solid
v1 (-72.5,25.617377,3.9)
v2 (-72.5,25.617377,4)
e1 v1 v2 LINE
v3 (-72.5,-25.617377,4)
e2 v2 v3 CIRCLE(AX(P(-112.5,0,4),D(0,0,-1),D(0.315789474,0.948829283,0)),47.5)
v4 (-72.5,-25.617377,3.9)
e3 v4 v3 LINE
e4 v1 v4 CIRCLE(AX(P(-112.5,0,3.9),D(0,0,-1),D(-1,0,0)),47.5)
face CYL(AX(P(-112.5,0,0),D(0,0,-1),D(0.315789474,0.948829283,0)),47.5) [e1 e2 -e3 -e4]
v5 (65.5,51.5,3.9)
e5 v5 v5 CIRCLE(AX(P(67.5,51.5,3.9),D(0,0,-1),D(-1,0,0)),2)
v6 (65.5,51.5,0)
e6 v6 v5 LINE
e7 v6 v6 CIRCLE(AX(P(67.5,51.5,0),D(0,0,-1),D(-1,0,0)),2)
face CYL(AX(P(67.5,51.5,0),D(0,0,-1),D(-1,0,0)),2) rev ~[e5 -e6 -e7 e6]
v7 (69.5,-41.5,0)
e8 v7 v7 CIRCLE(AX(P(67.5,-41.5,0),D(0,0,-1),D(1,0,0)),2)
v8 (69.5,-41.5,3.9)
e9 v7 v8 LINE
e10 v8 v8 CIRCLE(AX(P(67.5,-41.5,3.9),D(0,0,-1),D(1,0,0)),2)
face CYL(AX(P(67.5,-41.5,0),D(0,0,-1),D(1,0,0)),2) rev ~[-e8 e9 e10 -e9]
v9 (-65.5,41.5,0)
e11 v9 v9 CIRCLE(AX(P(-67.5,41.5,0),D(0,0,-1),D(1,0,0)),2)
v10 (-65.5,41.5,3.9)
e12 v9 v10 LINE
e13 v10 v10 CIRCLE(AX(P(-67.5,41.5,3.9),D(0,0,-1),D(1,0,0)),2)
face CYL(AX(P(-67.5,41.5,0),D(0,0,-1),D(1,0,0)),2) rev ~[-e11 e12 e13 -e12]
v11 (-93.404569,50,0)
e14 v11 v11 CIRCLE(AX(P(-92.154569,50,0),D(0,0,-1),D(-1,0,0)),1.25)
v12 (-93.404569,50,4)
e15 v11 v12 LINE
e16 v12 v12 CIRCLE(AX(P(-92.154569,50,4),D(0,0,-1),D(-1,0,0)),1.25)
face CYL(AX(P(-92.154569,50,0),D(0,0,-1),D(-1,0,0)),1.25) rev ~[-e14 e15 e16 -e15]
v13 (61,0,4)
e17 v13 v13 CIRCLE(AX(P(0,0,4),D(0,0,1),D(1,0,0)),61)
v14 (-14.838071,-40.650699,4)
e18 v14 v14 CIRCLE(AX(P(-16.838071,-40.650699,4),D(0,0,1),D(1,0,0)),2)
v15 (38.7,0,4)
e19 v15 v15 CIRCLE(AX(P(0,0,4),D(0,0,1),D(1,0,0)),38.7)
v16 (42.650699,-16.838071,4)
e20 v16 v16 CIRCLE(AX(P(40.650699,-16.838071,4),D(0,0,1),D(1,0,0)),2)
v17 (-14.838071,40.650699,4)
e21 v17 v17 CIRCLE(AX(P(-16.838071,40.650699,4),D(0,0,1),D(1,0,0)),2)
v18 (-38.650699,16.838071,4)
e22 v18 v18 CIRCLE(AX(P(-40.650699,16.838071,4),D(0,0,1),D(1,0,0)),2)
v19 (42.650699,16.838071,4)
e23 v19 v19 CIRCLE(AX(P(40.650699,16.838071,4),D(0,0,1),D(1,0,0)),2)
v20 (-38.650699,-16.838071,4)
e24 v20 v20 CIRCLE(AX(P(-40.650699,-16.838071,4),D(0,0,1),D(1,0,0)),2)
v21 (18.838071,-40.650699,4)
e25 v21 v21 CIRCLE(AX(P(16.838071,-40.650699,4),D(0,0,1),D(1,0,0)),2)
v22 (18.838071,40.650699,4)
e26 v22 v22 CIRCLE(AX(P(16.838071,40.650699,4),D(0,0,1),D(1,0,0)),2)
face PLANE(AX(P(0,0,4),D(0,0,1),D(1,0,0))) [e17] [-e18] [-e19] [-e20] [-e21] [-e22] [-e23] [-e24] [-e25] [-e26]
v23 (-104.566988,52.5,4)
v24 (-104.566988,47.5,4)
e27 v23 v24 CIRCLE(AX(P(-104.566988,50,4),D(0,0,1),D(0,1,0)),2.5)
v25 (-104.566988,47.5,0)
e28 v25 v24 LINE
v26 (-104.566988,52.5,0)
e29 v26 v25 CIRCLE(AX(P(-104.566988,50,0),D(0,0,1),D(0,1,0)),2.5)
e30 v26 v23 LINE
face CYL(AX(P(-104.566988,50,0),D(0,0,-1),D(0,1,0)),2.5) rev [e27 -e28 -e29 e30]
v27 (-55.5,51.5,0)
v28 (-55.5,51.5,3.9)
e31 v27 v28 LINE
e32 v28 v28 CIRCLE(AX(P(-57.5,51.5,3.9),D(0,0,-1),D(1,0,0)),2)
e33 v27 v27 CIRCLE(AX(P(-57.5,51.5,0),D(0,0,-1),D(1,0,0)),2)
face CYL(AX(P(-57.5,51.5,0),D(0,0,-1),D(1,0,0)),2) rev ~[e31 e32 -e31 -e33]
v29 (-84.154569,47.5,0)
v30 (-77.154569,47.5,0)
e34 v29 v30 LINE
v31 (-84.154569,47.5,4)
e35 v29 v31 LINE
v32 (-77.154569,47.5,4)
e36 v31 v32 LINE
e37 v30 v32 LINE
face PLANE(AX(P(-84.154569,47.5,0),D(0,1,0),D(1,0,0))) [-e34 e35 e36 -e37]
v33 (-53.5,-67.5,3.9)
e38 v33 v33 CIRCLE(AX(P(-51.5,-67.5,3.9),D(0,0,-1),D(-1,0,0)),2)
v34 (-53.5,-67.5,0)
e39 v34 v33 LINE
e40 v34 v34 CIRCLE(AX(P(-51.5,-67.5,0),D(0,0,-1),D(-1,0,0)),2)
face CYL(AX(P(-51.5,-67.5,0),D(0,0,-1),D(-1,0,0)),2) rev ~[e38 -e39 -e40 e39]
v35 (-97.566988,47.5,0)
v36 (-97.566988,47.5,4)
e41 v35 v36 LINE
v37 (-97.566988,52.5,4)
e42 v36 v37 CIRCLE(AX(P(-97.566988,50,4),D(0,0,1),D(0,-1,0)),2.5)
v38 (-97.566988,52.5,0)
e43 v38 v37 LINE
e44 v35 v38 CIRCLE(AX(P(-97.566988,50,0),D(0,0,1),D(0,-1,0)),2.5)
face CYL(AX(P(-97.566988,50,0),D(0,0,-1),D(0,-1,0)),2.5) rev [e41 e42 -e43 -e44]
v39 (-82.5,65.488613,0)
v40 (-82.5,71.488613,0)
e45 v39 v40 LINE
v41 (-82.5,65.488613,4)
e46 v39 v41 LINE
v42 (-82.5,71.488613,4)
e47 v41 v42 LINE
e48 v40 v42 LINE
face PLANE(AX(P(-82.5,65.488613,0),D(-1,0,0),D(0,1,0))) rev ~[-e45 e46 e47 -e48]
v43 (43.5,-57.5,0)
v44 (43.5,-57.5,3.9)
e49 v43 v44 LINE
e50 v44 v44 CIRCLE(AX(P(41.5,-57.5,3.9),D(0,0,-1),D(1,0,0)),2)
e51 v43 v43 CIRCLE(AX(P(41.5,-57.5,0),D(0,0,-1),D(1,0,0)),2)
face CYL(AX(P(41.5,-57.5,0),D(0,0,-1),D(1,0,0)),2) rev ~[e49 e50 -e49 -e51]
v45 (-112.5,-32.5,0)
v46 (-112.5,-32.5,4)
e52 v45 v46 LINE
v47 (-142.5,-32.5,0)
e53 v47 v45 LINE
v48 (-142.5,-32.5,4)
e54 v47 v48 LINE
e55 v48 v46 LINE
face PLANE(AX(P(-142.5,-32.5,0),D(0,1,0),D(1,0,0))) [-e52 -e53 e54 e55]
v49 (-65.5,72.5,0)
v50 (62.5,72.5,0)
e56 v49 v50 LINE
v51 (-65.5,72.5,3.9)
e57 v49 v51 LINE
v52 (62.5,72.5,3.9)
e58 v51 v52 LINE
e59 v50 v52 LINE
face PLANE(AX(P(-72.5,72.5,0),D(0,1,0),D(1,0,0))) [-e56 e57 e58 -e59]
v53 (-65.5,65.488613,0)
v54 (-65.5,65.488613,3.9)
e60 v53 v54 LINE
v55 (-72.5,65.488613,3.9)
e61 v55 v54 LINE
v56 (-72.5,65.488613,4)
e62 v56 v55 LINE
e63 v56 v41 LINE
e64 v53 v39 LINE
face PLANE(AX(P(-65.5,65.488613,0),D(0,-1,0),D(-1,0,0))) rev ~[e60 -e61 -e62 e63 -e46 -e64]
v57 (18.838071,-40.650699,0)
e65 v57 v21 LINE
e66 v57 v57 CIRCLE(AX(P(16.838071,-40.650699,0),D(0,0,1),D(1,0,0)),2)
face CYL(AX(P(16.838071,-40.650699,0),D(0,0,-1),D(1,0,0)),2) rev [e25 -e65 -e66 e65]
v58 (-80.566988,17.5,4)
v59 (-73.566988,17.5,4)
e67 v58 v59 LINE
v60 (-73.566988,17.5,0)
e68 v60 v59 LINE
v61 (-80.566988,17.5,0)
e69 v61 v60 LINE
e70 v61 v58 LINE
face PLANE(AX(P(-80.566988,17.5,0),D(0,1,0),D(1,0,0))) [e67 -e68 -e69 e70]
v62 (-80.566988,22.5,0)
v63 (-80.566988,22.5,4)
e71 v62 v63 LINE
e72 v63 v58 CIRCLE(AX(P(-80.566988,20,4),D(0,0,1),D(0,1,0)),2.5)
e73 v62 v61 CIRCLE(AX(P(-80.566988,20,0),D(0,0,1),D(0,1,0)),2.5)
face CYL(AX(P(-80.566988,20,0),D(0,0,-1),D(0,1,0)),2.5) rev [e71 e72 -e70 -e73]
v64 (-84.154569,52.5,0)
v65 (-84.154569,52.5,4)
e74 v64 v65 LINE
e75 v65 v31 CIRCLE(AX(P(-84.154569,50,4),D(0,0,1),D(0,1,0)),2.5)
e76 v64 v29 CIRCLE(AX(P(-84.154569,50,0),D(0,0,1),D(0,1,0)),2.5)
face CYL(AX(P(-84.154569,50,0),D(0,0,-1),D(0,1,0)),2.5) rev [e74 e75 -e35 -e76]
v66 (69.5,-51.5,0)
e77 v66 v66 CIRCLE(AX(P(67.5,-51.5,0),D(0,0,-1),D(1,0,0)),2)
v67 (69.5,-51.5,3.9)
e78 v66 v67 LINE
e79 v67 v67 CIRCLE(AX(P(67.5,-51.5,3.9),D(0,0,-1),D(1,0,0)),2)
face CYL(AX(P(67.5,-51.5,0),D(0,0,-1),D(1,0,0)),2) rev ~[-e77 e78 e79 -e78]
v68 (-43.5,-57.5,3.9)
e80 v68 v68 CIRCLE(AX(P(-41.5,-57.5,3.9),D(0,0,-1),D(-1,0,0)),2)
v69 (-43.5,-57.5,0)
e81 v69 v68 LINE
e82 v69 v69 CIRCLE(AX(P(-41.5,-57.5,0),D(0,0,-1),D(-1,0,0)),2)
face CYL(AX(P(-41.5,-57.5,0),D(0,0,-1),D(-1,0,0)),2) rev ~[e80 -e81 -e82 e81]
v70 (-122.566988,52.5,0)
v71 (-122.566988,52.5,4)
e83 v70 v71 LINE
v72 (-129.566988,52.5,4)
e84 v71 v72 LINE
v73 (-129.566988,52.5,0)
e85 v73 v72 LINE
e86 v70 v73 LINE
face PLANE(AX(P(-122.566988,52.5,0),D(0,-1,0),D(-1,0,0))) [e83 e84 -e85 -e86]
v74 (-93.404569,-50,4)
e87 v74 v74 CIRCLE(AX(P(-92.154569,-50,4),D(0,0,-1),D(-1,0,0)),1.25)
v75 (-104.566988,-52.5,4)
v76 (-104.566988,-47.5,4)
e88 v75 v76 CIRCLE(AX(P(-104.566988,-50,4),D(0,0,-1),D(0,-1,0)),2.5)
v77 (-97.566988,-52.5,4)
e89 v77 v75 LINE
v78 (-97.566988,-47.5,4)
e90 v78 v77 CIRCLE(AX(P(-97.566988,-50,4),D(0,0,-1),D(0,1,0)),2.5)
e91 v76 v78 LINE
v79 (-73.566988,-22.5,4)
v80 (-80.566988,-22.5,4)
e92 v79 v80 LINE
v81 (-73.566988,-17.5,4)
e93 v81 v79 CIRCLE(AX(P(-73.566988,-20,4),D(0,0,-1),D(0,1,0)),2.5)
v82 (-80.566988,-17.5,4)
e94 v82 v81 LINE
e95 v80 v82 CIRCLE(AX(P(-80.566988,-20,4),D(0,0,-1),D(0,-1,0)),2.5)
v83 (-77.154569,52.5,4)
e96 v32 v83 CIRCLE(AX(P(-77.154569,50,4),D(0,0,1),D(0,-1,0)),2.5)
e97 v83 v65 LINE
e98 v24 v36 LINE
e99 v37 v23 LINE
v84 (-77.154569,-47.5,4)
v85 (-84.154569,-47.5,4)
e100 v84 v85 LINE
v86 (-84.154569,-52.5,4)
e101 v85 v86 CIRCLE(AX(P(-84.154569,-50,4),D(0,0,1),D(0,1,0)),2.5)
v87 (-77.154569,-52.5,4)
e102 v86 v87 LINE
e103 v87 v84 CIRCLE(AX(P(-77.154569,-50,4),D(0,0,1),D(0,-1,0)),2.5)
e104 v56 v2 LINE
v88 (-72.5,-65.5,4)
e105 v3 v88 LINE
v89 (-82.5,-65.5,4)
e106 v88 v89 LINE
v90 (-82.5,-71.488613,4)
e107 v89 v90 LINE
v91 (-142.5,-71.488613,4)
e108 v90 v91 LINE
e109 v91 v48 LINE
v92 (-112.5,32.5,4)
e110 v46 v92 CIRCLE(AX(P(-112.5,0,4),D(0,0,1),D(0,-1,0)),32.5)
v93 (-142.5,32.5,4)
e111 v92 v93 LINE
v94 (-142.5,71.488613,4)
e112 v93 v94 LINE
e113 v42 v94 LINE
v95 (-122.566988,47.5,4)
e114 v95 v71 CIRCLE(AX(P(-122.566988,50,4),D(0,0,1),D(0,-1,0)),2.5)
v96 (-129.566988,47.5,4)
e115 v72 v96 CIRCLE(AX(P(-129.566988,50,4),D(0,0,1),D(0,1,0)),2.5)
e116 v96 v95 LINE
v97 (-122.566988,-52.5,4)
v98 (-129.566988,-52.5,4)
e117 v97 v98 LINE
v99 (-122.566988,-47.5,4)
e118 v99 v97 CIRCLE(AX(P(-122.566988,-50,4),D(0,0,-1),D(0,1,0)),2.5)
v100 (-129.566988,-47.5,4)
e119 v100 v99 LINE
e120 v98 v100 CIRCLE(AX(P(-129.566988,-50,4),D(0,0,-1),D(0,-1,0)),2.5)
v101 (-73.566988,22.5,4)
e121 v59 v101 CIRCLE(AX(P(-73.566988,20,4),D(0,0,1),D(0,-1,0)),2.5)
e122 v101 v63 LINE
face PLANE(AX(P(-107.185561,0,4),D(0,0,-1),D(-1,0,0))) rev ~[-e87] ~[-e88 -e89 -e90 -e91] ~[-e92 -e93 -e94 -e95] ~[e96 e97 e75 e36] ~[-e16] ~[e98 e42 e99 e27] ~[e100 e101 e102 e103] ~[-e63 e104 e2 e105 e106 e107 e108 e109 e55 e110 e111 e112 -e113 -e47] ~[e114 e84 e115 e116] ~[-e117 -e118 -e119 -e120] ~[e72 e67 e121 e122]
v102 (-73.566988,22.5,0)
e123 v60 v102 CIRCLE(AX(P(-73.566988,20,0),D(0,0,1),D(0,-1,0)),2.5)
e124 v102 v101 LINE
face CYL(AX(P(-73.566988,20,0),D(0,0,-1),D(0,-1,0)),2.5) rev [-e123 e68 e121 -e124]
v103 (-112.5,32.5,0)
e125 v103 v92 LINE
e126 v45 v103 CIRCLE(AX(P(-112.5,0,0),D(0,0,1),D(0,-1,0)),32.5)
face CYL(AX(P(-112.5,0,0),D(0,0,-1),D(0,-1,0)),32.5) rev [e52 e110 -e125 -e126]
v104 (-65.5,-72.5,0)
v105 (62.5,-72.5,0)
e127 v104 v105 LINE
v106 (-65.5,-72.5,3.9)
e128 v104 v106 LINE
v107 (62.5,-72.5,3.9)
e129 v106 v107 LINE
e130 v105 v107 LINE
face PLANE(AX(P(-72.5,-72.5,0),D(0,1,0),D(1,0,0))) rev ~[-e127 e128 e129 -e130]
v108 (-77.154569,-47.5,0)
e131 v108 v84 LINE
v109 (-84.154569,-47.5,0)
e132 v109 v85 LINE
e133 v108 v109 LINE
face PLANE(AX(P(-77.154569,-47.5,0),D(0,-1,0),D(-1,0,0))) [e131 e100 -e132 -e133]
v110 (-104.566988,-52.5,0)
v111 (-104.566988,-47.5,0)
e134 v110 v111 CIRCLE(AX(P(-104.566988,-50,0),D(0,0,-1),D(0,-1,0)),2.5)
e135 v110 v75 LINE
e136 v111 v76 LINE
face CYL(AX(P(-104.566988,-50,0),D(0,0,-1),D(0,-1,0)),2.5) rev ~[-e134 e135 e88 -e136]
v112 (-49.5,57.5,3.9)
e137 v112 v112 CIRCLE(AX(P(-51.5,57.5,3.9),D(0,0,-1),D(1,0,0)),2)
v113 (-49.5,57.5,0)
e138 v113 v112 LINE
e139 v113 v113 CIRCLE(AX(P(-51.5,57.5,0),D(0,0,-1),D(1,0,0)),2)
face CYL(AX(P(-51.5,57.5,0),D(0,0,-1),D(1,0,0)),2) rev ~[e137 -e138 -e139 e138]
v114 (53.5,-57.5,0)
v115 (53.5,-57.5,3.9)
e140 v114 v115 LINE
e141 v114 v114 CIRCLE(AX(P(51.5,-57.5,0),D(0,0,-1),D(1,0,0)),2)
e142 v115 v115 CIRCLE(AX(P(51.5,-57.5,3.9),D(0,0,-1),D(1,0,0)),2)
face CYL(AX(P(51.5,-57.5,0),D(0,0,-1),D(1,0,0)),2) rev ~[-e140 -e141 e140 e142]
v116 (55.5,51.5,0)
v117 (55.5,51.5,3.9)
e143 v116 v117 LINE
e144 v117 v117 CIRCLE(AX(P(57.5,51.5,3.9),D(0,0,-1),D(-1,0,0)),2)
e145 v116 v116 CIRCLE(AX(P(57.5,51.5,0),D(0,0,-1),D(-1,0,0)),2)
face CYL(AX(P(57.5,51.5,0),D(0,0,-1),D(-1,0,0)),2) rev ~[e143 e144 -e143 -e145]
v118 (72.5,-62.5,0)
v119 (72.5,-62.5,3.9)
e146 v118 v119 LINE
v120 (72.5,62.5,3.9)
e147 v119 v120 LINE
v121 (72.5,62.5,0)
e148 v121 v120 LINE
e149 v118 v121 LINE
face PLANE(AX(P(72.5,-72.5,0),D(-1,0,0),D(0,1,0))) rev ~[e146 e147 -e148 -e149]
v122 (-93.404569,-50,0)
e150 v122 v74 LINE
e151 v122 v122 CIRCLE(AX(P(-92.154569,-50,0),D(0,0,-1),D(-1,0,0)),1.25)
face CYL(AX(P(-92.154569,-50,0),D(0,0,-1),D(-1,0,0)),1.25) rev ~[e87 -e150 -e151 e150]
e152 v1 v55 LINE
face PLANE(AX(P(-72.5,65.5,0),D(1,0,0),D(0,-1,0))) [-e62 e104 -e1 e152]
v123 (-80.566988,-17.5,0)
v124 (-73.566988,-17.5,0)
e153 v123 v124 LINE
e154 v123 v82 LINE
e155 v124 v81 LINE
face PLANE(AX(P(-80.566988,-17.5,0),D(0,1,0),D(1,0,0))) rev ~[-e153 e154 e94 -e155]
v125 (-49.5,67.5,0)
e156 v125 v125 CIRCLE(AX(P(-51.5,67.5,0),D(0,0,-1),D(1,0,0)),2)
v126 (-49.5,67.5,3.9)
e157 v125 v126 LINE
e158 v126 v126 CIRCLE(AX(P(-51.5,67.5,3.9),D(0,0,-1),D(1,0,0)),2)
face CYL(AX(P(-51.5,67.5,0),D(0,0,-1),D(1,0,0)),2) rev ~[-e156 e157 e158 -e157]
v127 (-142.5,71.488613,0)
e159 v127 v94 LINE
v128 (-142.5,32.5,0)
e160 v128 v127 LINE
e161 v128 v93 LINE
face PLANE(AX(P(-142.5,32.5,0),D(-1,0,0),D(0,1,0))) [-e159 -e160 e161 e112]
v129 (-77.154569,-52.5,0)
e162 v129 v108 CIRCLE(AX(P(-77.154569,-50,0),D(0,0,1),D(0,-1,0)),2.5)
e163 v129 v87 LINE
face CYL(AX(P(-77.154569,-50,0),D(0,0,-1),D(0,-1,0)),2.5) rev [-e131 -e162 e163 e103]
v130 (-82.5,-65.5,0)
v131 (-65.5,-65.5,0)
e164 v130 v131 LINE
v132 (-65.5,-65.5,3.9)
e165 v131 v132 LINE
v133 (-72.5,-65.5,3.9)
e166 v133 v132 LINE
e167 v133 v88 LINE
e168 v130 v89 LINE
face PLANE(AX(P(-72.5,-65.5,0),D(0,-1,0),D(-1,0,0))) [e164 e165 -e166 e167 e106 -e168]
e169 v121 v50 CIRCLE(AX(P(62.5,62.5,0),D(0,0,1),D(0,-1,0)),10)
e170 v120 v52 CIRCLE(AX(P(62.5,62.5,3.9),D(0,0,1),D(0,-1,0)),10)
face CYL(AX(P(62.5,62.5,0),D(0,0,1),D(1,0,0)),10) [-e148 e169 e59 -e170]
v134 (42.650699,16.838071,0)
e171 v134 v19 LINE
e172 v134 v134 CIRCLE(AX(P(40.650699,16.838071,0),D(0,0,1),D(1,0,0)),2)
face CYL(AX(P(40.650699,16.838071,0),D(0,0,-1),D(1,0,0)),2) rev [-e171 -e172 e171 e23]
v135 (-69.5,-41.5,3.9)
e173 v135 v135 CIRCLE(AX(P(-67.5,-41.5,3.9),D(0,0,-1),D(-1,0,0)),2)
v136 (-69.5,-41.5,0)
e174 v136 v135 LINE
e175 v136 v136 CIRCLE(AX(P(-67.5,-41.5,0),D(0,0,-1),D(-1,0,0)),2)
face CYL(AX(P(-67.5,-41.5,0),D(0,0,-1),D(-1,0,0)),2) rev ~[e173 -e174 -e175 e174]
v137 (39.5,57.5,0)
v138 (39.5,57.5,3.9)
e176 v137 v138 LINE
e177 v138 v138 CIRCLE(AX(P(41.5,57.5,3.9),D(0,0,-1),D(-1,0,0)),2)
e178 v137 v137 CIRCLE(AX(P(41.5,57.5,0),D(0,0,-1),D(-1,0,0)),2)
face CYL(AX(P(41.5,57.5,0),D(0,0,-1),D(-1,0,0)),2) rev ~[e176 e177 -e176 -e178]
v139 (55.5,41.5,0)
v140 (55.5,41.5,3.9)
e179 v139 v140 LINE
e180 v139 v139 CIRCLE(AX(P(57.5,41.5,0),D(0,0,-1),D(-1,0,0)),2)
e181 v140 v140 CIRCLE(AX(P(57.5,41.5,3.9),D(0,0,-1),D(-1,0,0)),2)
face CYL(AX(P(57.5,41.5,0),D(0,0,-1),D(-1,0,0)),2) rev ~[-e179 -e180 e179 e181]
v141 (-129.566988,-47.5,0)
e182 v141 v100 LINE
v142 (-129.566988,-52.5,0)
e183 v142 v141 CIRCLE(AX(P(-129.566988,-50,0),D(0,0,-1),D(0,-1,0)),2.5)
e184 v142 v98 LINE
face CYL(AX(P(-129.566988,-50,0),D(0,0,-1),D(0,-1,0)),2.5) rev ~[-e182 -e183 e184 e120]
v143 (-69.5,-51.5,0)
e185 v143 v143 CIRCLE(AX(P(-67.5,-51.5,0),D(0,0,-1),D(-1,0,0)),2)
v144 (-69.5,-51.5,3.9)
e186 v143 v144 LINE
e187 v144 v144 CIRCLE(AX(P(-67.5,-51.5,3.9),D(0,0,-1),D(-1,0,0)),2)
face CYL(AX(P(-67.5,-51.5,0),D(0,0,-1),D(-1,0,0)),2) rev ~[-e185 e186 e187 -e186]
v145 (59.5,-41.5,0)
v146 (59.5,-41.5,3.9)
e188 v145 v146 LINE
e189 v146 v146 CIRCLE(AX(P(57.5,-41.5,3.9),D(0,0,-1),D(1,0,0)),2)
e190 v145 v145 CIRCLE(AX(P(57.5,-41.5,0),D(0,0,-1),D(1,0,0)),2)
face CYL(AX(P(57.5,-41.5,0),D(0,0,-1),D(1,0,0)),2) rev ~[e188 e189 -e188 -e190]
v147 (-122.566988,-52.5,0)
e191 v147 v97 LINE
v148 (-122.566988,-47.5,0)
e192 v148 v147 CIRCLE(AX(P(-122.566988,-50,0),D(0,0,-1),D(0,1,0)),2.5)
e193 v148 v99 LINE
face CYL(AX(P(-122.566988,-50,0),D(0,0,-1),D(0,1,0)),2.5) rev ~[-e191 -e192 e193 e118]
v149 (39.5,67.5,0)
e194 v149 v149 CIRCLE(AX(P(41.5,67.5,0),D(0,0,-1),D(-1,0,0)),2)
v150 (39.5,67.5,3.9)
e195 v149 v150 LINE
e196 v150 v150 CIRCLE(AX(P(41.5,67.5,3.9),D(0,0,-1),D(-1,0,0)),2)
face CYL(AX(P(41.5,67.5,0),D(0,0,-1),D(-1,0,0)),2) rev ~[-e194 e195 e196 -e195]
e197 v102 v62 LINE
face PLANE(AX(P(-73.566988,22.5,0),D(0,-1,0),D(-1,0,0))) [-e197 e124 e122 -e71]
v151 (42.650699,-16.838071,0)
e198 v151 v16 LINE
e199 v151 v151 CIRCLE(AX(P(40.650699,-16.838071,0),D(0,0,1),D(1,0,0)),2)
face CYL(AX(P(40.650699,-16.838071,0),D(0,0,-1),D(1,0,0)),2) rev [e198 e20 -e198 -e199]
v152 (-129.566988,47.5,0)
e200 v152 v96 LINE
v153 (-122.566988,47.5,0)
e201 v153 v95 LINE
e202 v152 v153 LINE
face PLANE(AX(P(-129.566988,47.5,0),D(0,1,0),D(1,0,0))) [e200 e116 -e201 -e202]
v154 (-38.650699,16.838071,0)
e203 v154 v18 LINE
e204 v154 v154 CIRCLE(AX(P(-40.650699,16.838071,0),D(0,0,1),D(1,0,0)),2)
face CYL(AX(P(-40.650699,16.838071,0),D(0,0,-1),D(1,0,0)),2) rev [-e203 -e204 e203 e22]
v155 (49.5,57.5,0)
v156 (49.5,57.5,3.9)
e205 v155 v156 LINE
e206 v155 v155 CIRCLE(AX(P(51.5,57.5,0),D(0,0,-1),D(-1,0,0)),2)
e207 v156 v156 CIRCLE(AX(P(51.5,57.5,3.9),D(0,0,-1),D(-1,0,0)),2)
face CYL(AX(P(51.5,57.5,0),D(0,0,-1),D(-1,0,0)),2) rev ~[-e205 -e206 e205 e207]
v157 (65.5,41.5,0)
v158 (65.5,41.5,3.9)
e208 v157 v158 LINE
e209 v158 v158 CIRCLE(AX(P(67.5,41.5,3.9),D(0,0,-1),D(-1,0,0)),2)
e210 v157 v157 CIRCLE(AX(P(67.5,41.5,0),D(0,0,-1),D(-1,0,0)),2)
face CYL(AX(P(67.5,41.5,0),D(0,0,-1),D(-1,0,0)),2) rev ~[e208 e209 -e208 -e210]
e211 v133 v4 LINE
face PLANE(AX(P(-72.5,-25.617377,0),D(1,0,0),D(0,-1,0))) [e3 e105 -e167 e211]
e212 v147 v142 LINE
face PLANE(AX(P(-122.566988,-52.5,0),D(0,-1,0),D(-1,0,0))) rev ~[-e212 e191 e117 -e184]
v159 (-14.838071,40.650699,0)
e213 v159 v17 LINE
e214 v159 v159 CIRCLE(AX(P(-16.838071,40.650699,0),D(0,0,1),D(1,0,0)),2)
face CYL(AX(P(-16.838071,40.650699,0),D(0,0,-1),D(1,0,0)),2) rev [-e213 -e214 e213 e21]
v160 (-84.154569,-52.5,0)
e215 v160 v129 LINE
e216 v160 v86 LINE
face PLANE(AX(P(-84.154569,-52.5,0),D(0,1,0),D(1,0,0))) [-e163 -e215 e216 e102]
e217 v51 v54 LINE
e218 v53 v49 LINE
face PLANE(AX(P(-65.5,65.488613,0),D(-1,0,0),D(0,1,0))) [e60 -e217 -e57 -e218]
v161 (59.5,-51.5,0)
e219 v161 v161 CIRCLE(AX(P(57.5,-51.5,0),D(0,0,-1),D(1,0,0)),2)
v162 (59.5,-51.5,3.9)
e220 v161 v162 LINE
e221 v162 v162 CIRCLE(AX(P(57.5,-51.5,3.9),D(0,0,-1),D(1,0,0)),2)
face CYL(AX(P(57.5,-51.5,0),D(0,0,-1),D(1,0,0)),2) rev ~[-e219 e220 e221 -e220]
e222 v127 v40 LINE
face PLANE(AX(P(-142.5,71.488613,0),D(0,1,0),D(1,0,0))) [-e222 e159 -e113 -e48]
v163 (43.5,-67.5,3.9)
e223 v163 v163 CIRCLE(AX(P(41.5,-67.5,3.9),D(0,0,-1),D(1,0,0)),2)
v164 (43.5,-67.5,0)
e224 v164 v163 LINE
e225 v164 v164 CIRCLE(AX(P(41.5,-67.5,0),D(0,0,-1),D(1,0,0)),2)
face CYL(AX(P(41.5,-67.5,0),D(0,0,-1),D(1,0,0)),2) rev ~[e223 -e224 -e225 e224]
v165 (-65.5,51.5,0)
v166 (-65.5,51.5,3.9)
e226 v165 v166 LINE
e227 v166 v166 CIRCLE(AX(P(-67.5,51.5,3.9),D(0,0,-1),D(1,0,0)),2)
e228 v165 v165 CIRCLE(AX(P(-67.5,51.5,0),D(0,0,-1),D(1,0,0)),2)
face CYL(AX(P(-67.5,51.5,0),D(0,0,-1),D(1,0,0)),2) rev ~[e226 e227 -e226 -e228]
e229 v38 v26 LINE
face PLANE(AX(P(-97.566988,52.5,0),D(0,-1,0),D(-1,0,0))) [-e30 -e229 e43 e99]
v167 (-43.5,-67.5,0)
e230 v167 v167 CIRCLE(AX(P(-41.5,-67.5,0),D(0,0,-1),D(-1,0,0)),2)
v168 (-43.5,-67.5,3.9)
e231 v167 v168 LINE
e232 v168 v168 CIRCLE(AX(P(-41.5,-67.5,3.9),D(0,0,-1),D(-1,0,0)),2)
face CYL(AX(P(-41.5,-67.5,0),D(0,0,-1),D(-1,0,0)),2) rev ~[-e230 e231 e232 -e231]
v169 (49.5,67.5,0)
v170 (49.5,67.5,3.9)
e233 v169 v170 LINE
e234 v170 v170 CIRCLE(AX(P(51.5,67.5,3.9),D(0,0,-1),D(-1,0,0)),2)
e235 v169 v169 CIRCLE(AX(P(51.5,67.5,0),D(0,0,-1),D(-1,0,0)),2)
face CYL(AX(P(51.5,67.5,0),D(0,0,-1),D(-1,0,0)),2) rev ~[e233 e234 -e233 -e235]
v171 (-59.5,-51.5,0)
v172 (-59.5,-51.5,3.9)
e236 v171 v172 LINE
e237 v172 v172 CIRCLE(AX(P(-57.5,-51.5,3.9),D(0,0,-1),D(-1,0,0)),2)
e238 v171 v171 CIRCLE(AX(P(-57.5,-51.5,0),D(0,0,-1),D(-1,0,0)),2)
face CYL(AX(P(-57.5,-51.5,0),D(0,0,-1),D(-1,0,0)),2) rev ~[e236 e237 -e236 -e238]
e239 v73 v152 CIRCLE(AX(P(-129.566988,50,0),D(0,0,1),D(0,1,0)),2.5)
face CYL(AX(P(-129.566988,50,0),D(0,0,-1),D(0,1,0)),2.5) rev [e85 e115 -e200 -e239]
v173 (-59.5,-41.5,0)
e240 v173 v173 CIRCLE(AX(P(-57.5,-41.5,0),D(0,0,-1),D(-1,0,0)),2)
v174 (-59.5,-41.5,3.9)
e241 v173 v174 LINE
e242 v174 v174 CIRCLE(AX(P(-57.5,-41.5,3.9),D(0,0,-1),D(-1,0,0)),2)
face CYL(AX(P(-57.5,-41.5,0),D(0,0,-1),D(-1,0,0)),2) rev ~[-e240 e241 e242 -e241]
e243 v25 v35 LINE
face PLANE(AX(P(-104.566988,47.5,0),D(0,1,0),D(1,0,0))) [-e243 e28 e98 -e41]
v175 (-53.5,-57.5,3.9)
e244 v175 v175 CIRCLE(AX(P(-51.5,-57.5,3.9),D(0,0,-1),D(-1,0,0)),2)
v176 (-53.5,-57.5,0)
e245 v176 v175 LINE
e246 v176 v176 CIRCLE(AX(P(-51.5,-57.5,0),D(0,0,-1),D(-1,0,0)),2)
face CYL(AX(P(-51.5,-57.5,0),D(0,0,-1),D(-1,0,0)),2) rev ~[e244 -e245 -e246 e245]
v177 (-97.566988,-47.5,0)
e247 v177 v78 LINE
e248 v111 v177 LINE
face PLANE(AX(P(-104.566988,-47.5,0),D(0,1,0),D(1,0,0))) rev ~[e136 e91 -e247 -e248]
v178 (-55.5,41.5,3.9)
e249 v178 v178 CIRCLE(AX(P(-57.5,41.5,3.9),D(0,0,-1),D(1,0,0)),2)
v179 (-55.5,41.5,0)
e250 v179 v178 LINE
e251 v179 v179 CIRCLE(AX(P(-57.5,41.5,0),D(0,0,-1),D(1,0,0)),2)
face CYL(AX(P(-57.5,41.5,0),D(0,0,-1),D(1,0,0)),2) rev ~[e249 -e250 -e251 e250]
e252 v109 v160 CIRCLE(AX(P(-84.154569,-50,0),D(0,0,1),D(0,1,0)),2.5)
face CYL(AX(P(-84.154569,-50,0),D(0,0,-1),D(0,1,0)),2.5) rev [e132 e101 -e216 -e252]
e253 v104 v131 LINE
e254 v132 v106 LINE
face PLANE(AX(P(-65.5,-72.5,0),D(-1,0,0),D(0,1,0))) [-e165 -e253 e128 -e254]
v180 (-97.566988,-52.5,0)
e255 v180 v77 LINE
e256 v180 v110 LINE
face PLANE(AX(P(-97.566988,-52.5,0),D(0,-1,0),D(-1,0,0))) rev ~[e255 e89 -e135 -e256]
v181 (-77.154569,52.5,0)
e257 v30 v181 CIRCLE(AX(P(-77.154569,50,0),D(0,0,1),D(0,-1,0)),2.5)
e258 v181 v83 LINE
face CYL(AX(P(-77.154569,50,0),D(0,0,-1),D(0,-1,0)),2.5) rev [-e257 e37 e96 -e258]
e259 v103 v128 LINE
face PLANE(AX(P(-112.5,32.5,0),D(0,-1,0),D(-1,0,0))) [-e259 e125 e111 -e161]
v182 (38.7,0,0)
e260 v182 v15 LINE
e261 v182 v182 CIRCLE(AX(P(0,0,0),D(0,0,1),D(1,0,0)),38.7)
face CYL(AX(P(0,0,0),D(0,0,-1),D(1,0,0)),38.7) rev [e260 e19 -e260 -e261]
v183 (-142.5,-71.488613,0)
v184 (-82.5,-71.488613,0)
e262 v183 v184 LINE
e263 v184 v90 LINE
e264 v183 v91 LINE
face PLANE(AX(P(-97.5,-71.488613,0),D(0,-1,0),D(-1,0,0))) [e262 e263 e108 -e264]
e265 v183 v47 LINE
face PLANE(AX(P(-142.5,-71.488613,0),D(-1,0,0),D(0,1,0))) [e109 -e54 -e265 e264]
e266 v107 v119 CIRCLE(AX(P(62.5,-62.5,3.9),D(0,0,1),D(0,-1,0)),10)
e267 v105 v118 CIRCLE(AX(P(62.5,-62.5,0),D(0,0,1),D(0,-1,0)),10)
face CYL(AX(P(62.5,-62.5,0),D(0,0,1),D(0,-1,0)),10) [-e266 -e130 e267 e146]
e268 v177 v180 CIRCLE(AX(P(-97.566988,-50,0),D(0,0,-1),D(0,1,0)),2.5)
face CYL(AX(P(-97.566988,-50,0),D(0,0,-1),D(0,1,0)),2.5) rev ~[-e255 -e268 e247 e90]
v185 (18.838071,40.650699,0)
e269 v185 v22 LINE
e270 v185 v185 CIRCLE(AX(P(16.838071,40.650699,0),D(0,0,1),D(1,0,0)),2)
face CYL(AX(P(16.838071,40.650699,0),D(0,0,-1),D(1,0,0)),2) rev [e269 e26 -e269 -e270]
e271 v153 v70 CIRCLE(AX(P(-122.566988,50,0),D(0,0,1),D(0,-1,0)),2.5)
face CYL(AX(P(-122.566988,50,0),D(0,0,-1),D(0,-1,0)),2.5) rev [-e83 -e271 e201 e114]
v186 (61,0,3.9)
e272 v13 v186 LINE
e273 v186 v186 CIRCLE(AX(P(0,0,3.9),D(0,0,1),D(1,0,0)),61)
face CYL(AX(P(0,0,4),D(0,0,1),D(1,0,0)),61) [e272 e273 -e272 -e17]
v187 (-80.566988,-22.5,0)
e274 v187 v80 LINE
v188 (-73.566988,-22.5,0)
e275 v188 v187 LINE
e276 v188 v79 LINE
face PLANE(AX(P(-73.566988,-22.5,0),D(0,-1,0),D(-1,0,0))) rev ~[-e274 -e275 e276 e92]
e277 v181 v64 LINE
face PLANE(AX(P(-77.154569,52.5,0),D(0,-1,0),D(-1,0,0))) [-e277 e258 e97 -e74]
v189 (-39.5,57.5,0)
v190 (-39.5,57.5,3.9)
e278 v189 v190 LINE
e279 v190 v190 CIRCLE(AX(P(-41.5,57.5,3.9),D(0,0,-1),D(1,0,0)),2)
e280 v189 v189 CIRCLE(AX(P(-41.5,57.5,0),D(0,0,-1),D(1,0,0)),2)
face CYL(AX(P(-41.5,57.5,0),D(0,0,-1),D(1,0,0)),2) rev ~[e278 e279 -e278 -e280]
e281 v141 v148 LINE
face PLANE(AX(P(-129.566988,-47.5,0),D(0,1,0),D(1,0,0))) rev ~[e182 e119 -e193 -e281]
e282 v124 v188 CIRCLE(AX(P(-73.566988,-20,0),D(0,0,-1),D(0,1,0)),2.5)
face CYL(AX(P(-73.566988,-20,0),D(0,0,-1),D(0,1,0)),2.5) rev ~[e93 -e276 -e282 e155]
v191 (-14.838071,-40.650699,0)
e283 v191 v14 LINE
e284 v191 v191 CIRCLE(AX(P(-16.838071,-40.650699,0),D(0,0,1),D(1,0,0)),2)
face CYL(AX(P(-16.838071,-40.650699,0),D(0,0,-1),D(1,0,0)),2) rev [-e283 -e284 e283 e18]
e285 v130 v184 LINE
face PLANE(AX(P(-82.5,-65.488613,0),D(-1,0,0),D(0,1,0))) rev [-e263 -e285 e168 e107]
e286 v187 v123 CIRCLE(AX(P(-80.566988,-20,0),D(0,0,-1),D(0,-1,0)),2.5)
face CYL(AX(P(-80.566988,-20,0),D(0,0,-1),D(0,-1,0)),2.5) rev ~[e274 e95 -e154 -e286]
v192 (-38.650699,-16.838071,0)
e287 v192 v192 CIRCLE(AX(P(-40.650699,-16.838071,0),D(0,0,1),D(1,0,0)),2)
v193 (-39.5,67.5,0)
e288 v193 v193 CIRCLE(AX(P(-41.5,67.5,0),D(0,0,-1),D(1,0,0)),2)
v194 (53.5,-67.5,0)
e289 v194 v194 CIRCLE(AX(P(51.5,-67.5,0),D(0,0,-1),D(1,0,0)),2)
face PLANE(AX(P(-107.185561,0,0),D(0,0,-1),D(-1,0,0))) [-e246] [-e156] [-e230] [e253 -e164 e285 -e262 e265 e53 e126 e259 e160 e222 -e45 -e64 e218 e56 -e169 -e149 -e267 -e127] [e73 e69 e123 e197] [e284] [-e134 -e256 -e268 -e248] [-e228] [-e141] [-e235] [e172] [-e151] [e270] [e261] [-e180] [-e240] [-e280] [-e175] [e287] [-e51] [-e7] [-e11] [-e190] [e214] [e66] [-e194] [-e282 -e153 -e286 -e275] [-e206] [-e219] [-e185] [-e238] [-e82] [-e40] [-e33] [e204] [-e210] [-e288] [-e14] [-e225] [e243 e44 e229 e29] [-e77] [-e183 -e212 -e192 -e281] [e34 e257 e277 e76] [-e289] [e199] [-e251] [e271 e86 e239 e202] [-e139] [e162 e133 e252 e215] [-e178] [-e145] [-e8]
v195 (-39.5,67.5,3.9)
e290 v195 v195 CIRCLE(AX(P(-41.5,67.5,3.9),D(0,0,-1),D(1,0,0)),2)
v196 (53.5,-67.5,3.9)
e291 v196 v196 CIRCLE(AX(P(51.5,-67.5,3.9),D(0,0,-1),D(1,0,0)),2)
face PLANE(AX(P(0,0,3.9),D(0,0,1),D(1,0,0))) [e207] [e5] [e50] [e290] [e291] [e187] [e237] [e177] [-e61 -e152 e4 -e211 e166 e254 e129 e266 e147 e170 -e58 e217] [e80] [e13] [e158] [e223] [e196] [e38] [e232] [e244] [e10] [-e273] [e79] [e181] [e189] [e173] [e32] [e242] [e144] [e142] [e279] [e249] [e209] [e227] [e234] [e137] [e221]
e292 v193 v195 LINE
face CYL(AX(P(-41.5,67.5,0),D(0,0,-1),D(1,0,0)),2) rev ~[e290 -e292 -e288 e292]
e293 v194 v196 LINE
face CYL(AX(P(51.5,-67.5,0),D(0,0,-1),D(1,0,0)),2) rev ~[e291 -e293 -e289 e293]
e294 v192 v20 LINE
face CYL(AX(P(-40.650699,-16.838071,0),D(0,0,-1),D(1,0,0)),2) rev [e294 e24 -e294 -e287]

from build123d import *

# Parameters (mm, degrees)
SKETCH_1_W          = 145
SKETCH_1_H          = 145
SKETCH_1_R          = 38.7
SKETCH_1_R_2        = 2
EXTRUDE_1_DEPTH     = 4
SKETCH_2_OUTSIDE_W  = 188.02
SKETCH_2_OUTSIDE_H  = 188.02
SKETCH_2_OUTSIDE_R  = 61
CUT_EXTRUDE_1_DEPTH = 0.1
SKETCH_3_R          = 1.25
EXTRUDE_2_DEPTH     = 4
SKETCH_5_R          = 2
CUT_EXTRUDE_2_DEPTH = 4
SKETCH_7_R          = 47.5
SKETCH_7_W          = 32
SKETCH_7_H          = 7.011387078
SKETCH_7_H_2        = 7
CUT_EXTRUDE_4_DEPTH = 4
SKETCH_8_W          = 15
SKETCH_8_H          = 6
EXTRUDE_3_DEPTH     = 4
FILLET_4_R          = 10
CUT_EXTRUDE_6_DEPTH = 4
EXTRUDE_5_DEPTH     = 4
CUT_EXTRUDE_7_DEPTH = 4
CUT_EXTRUDE_8_DEPTH = 4


with BuildPart() as part:
    # 草图1 → 凸台-拉伸1 (new body)
    with BuildSketch(Plane.XY):
        Rectangle(SKETCH_1_W, SKETCH_1_H)
        Circle(SKETCH_1_R, mode=Mode.SUBTRACT)
        with Locations((16.838071024, 40.65069943)):
            Circle(SKETCH_1_R_2, mode=Mode.SUBTRACT)
        with Locations((40.65069943, 16.838071024)):
            Circle(SKETCH_1_R_2, mode=Mode.SUBTRACT)
        with Locations((40.65069943, -16.838071024)):
            Circle(SKETCH_1_R_2, mode=Mode.SUBTRACT)
        with Locations((16.838071024, -40.65069943)):
            Circle(SKETCH_1_R_2, mode=Mode.SUBTRACT)
        with Locations((-16.838071024, -40.65069943)):
            Circle(SKETCH_1_R_2, mode=Mode.SUBTRACT)
        with Locations((-40.65069943, -16.838071024)):
            Circle(SKETCH_1_R_2, mode=Mode.SUBTRACT)
        with Locations((-40.65069943, 16.838071024)):
            Circle(SKETCH_1_R_2, mode=Mode.SUBTRACT)
        with Locations((-16.838071024, 40.65069943)):
            Circle(SKETCH_1_R_2, mode=Mode.SUBTRACT)
    extrude(amount=EXTRUDE_1_DEPTH)

    # 草图2 outside → 切除-拉伸1 (cut)
    with BuildSketch(Plane.XY.offset(4)):
        Rectangle(SKETCH_2_OUTSIDE_W, SKETCH_2_OUTSIDE_H)
        Circle(SKETCH_2_OUTSIDE_R, mode=Mode.SUBTRACT)
    extrude(amount=-CUT_EXTRUDE_1_DEPTH, mode=Mode.SUBTRACT)

    # 草图3 → 凸台-拉伸2 (add)
    # profile 1 of 2: a face of its own
    with BuildSketch(Plane(origin=(0, 0, 0), x_dir=(-1, 0, 0), z_dir=(0, 0, -1))):
        with BuildLine():
            Line((79.5, -72.5), (97.5, -72.5))
            Line((97.5, -72.5), (97.5, -45.069390943))
            ThreePointArc((97.5, -45.069390943), (83.330748854, -37.488728807), (72.5, -25.617376915))
            Line((72.5, -25.617376915), (72.5, -65.5))
            Line((72.5, -65.5), (79.5, -65.5))
            Line((79.5, -65.5), (79.5, -72.5))
        make_face()
        with Locations((84.154569054, -50)):
            Circle(SKETCH_3_R, mode=Mode.SUBTRACT)
        with Locations((92.154569054, -50)):
            Circle(SKETCH_3_R, mode=Mode.SUBTRACT)
    # profile 2 of 2: a face of its own
    with BuildSketch(Plane(origin=(0, 0, 0), x_dir=(-1, 0, 0), z_dir=(0, 0, -1))):
        with BuildLine():
            ThreePointArc((72.5, 25.617376915), (83.330748854, 37.488728807), (97.5, 45.069390943))
            Line((97.5, 45.069390943), (97.5, 72.5))
            Line((97.5, 72.5), (79.5, 72.5))
            Line((79.5, 72.5), (79.5, 65.5))
            Line((79.5, 65.5), (72.5, 65.5))
            Line((72.5, 65.5), (72.5, 25.617376915))
        make_face()
        with Locations((84.154569054, 50)):
            Circle(SKETCH_3_R, mode=Mode.SUBTRACT)
        with Locations((92.154569054, 50)):
            Circle(SKETCH_3_R, mode=Mode.SUBTRACT)
    extrude(amount=-EXTRUDE_2_DEPTH)

    # 草图5 → 切除-拉伸2 (cut)
    with BuildSketch(Plane(origin=(0, 0, 0), x_dir=(-1, 0, 0), z_dir=(0, 0, -1))):
        with Locations((-67.5, 41.5)):
            Circle(SKETCH_5_R)
        with Locations((-41.5, 67.5)):
            Circle(SKETCH_5_R)
        with Locations((-51.5, 67.5)):
            Circle(SKETCH_5_R)
        with Locations((-51.5, 57.5)):
            Circle(SKETCH_5_R)
        with Locations((-41.5, 57.5)):
            Circle(SKETCH_5_R)
        with Locations((-57.5, 41.5)):
            Circle(SKETCH_5_R)
        with Locations((-57.5, 51.5)):
            Circle(SKETCH_5_R)
        with Locations((-67.5, 51.5)):
            Circle(SKETCH_5_R)
        with Locations(Location((67.5, 51.5, 0), (0, 0, 180))):
            Circle(SKETCH_5_R)
        with Locations(Location((57.5, 51.5, 0), (0, 0, 180))):
            Circle(SKETCH_5_R)
        with Locations(Location((57.5, 41.5, 0), (0, 0, 180))):
            Circle(SKETCH_5_R)
        with Locations(Location((41.5, 57.5, 0), (0, 0, 180))):
            Circle(SKETCH_5_R)
        with Locations(Location((51.5, 57.5, 0), (0, 0, 180))):
            Circle(SKETCH_5_R)
        with Locations(Location((51.5, 67.5, 0), (0, 0, 180))):
            Circle(SKETCH_5_R)
        with Locations(Location((41.5, 67.5, 0), (0, 0, 180))):
            Circle(SKETCH_5_R)
        with Locations(Location((67.5, 41.5, 0), (0, 0, 180))):
            Circle(SKETCH_5_R)
        with Locations((67.5, -41.5)):
            Circle(SKETCH_5_R)
        with Locations((41.5, -67.5)):
            Circle(SKETCH_5_R)
        with Locations((51.5, -67.5)):
            Circle(SKETCH_5_R)
        with Locations((51.5, -57.5)):
            Circle(SKETCH_5_R)
        with Locations((41.5, -57.5)):
            Circle(SKETCH_5_R)
        with Locations((57.5, -41.5)):
            Circle(SKETCH_5_R)
        with Locations((57.5, -51.5)):
            Circle(SKETCH_5_R)
        with Locations((67.5, -51.5)):
            Circle(SKETCH_5_R)
        with Locations(Location((-67.5, -51.5, 0), (0, 0, 180))):
            Circle(SKETCH_5_R)
        with Locations(Location((-57.5, -51.5, 0), (0, 0, 180))):
            Circle(SKETCH_5_R)
        with Locations(Location((-57.5, -41.5, 0), (0, 0, 180))):
            Circle(SKETCH_5_R)
        with Locations(Location((-41.5, -57.5, 0), (0, 0, 180))):
            Circle(SKETCH_5_R)
        with Locations(Location((-51.5, -57.5, 0), (0, 0, 180))):
            Circle(SKETCH_5_R)
        with Locations(Location((-51.5, -67.5, 0), (0, 0, 180))):
            Circle(SKETCH_5_R)
        with Locations(Location((-41.5, -67.5, 0), (0, 0, 180))):
            Circle(SKETCH_5_R)
        with Locations(Location((-67.5, -41.5, 0), (0, 0, 180))):
            Circle(SKETCH_5_R)
    extrude(amount=-CUT_EXTRUDE_2_DEPTH, mode=Mode.SUBTRACT)

    # 草图7 → 切除-拉伸4 (cut)
    with BuildSketch(Plane(origin=(0, 0, 0), x_dir=(-1, 0, 0), z_dir=(0, 0, -1))):
        with Locations((112.5, 0)):
            Circle(SKETCH_7_R)
        with Locations((81.5, 68.994306461)):
            Rectangle(SKETCH_7_W, SKETCH_7_H)
        with Locations((81.5, -69)):
            Rectangle(SKETCH_7_W, SKETCH_7_H_2)
    extrude(amount=-CUT_EXTRUDE_4_DEPTH, mode=Mode.SUBTRACT)

    # 草图8 → 凸台-拉伸3 (add)
    with BuildSketch(Plane(origin=(0, 0, 0), x_dir=(-1, 0, 0), z_dir=(0, 0, -1))):
        with Locations((90, 68.488612922)):
            Rectangle(SKETCH_8_W, SKETCH_8_H)
    extrude_3 = extrude(amount=-EXTRUDE_3_DEPTH)

    # 镜向1: 凸台-拉伸3 across plane
    add(extrude_3.mirror(Plane.ZX))

    # 圆角4
    fillet_4_edges = [part.edges().sort_by_distance(p)[0] for p in [
        (72.5, -72.5, 1.95),
        (72.5, 72.5, 1.95),
    ]]
    fillet(fillet_4_edges, radius=FILLET_4_R)

    # 草图12 → 切除-拉伸6 (cut)
    with BuildSketch(Plane(origin=(0, 0, 0), x_dir=(-1, 0, 0), z_dir=(0, 0, -1))):
        with BuildLine():
            Line((84.154569054, 47.5), (77.154569054, 47.5))
            ThreePointArc((77.154569054, 47.5), (74.654569054, 50), (77.154569054, 52.5))
            Line((77.154569054, 52.5), (84.154569054, 52.5))
            ThreePointArc((84.154569054, 52.5), (86.654569054, 50), (84.154569054, 47.5))
        make_face()
        with BuildLine():
            Line((84.154569054, -52.5), (77.154569054, -52.5))
            ThreePointArc((77.154569054, -52.5), (74.654569054, -50), (77.154569054, -47.5))
            Line((77.154569054, -47.5), (84.154569054, -47.5))
            ThreePointArc((84.154569054, -47.5), (86.654569054, -50), (84.154569054, -52.5))
        make_face()
    extrude(amount=-CUT_EXTRUDE_6_DEPTH, mode=Mode.SUBTRACT)

    # 草图13 → 凸台-拉伸5 (add)
    with BuildSketch(Plane(origin=(0, 0, 0), x_dir=(-1, 0, 0), z_dir=(0, 0, -1))):
        with BuildLine():
            Line((97.5, -71.488612922), (142.5, -71.488612922))
            Line((142.5, -71.488612922), (142.5, -32.5))
            Line((142.5, -32.5), (112.5, -32.5))
            ThreePointArc((112.5, -32.5), (80, 0), (112.5, 32.5))
            Line((112.5, 32.5), (142.5, 32.5))
            Line((142.5, 32.5), (142.5, 71.488612922))
            Line((142.5, 71.488612922), (97.5, 71.488612922))
            Line((97.5, 71.488612922), (97.5, 45.069390943))
            ThreePointArc((97.5, 45.069390943), (65, 0), (97.5, -45.069390943))
            Line((97.5, -45.069390943), (97.5, -71.488612922))
        make_face()
    extrude(amount=-EXTRUDE_5_DEPTH)

    # 草图14 → 切除-拉伸7 (cut)
    with BuildSketch(Plane(origin=(0, 0, 0), x_dir=(-1, 0, 0), z_dir=(0, 0, -1))):
        with BuildLine():
            Line((97.566987559, 52.5), (104.566987559, 52.5))
            ThreePointArc((104.566987559, 52.5), (107.066987559, 50), (104.566987559, 47.5))
            Line((104.566987559, 47.5), (97.566987559, 47.5))
            ThreePointArc((97.566987559, 47.5), (95.066987559, 50), (97.566987559, 52.5))
        make_face()
        with BuildLine():
            Line((122.566987559, 52.5), (129.566987559, 52.5))
            ThreePointArc((129.566987559, 52.5), (132.066987559, 50), (129.566987559, 47.5))
            Line((129.566987559, 47.5), (122.566987559, 47.5))
            ThreePointArc((122.566987559, 47.5), (120.066987559, 50), (122.566987559, 52.5))
        make_face()
        with BuildLine():
            Line((122.566987559, -52.5), (129.566987559, -52.5))
            ThreePointArc((129.566987559, -52.5), (132.066987559, -50), (129.566987559, -47.5))
            Line((129.566987559, -47.5), (122.566987559, -47.5))
            ThreePointArc((122.566987559, -47.5), (120.066987559, -50), (122.566987559, -52.5))
        make_face()
        with BuildLine():
            Line((97.566987559, -52.5), (104.566987559, -52.5))
            ThreePointArc((104.566987559, -52.5), (107.066987559, -50), (104.566987559, -47.5))
            Line((104.566987559, -47.5), (97.566987559, -47.5))
            ThreePointArc((97.566987559, -47.5), (95.066987559, -50), (97.566987559, -52.5))
        make_face()
    extrude(amount=-CUT_EXTRUDE_7_DEPTH, mode=Mode.SUBTRACT)

    # 草图16 → 切除-拉伸8 (cut)
    with BuildSketch(Plane(origin=(0, 0, 0), x_dir=(-1, 0, 0), z_dir=(0, 0, -1))):
        with BuildLine():
            Line((73.566987559, 22.5), (80.566987559, 22.5))
            ThreePointArc((80.566987559, 22.5), (83.066987559, 20), (80.566987559, 17.5))
            Line((80.566987559, 17.5), (73.566987559, 17.5))
            ThreePointArc((73.566987559, 17.5), (71.066987559, 20), (73.566987559, 22.5))
        make_face()
        with BuildLine():
            Line((73.566987559, -22.5), (80.566987559, -22.5))
            ThreePointArc((80.566987559, -22.5), (83.066987559, -20), (80.566987559, -17.5))
            Line((80.566987559, -17.5), (73.566987559, -17.5))
            ThreePointArc((73.566987559, -17.5), (71.066987559, -20), (73.566987559, -22.5))
        make_face()
    extrude(amount=-CUT_EXTRUDE_8_DEPTH, mode=Mode.SUBTRACT)


solid = part.part
